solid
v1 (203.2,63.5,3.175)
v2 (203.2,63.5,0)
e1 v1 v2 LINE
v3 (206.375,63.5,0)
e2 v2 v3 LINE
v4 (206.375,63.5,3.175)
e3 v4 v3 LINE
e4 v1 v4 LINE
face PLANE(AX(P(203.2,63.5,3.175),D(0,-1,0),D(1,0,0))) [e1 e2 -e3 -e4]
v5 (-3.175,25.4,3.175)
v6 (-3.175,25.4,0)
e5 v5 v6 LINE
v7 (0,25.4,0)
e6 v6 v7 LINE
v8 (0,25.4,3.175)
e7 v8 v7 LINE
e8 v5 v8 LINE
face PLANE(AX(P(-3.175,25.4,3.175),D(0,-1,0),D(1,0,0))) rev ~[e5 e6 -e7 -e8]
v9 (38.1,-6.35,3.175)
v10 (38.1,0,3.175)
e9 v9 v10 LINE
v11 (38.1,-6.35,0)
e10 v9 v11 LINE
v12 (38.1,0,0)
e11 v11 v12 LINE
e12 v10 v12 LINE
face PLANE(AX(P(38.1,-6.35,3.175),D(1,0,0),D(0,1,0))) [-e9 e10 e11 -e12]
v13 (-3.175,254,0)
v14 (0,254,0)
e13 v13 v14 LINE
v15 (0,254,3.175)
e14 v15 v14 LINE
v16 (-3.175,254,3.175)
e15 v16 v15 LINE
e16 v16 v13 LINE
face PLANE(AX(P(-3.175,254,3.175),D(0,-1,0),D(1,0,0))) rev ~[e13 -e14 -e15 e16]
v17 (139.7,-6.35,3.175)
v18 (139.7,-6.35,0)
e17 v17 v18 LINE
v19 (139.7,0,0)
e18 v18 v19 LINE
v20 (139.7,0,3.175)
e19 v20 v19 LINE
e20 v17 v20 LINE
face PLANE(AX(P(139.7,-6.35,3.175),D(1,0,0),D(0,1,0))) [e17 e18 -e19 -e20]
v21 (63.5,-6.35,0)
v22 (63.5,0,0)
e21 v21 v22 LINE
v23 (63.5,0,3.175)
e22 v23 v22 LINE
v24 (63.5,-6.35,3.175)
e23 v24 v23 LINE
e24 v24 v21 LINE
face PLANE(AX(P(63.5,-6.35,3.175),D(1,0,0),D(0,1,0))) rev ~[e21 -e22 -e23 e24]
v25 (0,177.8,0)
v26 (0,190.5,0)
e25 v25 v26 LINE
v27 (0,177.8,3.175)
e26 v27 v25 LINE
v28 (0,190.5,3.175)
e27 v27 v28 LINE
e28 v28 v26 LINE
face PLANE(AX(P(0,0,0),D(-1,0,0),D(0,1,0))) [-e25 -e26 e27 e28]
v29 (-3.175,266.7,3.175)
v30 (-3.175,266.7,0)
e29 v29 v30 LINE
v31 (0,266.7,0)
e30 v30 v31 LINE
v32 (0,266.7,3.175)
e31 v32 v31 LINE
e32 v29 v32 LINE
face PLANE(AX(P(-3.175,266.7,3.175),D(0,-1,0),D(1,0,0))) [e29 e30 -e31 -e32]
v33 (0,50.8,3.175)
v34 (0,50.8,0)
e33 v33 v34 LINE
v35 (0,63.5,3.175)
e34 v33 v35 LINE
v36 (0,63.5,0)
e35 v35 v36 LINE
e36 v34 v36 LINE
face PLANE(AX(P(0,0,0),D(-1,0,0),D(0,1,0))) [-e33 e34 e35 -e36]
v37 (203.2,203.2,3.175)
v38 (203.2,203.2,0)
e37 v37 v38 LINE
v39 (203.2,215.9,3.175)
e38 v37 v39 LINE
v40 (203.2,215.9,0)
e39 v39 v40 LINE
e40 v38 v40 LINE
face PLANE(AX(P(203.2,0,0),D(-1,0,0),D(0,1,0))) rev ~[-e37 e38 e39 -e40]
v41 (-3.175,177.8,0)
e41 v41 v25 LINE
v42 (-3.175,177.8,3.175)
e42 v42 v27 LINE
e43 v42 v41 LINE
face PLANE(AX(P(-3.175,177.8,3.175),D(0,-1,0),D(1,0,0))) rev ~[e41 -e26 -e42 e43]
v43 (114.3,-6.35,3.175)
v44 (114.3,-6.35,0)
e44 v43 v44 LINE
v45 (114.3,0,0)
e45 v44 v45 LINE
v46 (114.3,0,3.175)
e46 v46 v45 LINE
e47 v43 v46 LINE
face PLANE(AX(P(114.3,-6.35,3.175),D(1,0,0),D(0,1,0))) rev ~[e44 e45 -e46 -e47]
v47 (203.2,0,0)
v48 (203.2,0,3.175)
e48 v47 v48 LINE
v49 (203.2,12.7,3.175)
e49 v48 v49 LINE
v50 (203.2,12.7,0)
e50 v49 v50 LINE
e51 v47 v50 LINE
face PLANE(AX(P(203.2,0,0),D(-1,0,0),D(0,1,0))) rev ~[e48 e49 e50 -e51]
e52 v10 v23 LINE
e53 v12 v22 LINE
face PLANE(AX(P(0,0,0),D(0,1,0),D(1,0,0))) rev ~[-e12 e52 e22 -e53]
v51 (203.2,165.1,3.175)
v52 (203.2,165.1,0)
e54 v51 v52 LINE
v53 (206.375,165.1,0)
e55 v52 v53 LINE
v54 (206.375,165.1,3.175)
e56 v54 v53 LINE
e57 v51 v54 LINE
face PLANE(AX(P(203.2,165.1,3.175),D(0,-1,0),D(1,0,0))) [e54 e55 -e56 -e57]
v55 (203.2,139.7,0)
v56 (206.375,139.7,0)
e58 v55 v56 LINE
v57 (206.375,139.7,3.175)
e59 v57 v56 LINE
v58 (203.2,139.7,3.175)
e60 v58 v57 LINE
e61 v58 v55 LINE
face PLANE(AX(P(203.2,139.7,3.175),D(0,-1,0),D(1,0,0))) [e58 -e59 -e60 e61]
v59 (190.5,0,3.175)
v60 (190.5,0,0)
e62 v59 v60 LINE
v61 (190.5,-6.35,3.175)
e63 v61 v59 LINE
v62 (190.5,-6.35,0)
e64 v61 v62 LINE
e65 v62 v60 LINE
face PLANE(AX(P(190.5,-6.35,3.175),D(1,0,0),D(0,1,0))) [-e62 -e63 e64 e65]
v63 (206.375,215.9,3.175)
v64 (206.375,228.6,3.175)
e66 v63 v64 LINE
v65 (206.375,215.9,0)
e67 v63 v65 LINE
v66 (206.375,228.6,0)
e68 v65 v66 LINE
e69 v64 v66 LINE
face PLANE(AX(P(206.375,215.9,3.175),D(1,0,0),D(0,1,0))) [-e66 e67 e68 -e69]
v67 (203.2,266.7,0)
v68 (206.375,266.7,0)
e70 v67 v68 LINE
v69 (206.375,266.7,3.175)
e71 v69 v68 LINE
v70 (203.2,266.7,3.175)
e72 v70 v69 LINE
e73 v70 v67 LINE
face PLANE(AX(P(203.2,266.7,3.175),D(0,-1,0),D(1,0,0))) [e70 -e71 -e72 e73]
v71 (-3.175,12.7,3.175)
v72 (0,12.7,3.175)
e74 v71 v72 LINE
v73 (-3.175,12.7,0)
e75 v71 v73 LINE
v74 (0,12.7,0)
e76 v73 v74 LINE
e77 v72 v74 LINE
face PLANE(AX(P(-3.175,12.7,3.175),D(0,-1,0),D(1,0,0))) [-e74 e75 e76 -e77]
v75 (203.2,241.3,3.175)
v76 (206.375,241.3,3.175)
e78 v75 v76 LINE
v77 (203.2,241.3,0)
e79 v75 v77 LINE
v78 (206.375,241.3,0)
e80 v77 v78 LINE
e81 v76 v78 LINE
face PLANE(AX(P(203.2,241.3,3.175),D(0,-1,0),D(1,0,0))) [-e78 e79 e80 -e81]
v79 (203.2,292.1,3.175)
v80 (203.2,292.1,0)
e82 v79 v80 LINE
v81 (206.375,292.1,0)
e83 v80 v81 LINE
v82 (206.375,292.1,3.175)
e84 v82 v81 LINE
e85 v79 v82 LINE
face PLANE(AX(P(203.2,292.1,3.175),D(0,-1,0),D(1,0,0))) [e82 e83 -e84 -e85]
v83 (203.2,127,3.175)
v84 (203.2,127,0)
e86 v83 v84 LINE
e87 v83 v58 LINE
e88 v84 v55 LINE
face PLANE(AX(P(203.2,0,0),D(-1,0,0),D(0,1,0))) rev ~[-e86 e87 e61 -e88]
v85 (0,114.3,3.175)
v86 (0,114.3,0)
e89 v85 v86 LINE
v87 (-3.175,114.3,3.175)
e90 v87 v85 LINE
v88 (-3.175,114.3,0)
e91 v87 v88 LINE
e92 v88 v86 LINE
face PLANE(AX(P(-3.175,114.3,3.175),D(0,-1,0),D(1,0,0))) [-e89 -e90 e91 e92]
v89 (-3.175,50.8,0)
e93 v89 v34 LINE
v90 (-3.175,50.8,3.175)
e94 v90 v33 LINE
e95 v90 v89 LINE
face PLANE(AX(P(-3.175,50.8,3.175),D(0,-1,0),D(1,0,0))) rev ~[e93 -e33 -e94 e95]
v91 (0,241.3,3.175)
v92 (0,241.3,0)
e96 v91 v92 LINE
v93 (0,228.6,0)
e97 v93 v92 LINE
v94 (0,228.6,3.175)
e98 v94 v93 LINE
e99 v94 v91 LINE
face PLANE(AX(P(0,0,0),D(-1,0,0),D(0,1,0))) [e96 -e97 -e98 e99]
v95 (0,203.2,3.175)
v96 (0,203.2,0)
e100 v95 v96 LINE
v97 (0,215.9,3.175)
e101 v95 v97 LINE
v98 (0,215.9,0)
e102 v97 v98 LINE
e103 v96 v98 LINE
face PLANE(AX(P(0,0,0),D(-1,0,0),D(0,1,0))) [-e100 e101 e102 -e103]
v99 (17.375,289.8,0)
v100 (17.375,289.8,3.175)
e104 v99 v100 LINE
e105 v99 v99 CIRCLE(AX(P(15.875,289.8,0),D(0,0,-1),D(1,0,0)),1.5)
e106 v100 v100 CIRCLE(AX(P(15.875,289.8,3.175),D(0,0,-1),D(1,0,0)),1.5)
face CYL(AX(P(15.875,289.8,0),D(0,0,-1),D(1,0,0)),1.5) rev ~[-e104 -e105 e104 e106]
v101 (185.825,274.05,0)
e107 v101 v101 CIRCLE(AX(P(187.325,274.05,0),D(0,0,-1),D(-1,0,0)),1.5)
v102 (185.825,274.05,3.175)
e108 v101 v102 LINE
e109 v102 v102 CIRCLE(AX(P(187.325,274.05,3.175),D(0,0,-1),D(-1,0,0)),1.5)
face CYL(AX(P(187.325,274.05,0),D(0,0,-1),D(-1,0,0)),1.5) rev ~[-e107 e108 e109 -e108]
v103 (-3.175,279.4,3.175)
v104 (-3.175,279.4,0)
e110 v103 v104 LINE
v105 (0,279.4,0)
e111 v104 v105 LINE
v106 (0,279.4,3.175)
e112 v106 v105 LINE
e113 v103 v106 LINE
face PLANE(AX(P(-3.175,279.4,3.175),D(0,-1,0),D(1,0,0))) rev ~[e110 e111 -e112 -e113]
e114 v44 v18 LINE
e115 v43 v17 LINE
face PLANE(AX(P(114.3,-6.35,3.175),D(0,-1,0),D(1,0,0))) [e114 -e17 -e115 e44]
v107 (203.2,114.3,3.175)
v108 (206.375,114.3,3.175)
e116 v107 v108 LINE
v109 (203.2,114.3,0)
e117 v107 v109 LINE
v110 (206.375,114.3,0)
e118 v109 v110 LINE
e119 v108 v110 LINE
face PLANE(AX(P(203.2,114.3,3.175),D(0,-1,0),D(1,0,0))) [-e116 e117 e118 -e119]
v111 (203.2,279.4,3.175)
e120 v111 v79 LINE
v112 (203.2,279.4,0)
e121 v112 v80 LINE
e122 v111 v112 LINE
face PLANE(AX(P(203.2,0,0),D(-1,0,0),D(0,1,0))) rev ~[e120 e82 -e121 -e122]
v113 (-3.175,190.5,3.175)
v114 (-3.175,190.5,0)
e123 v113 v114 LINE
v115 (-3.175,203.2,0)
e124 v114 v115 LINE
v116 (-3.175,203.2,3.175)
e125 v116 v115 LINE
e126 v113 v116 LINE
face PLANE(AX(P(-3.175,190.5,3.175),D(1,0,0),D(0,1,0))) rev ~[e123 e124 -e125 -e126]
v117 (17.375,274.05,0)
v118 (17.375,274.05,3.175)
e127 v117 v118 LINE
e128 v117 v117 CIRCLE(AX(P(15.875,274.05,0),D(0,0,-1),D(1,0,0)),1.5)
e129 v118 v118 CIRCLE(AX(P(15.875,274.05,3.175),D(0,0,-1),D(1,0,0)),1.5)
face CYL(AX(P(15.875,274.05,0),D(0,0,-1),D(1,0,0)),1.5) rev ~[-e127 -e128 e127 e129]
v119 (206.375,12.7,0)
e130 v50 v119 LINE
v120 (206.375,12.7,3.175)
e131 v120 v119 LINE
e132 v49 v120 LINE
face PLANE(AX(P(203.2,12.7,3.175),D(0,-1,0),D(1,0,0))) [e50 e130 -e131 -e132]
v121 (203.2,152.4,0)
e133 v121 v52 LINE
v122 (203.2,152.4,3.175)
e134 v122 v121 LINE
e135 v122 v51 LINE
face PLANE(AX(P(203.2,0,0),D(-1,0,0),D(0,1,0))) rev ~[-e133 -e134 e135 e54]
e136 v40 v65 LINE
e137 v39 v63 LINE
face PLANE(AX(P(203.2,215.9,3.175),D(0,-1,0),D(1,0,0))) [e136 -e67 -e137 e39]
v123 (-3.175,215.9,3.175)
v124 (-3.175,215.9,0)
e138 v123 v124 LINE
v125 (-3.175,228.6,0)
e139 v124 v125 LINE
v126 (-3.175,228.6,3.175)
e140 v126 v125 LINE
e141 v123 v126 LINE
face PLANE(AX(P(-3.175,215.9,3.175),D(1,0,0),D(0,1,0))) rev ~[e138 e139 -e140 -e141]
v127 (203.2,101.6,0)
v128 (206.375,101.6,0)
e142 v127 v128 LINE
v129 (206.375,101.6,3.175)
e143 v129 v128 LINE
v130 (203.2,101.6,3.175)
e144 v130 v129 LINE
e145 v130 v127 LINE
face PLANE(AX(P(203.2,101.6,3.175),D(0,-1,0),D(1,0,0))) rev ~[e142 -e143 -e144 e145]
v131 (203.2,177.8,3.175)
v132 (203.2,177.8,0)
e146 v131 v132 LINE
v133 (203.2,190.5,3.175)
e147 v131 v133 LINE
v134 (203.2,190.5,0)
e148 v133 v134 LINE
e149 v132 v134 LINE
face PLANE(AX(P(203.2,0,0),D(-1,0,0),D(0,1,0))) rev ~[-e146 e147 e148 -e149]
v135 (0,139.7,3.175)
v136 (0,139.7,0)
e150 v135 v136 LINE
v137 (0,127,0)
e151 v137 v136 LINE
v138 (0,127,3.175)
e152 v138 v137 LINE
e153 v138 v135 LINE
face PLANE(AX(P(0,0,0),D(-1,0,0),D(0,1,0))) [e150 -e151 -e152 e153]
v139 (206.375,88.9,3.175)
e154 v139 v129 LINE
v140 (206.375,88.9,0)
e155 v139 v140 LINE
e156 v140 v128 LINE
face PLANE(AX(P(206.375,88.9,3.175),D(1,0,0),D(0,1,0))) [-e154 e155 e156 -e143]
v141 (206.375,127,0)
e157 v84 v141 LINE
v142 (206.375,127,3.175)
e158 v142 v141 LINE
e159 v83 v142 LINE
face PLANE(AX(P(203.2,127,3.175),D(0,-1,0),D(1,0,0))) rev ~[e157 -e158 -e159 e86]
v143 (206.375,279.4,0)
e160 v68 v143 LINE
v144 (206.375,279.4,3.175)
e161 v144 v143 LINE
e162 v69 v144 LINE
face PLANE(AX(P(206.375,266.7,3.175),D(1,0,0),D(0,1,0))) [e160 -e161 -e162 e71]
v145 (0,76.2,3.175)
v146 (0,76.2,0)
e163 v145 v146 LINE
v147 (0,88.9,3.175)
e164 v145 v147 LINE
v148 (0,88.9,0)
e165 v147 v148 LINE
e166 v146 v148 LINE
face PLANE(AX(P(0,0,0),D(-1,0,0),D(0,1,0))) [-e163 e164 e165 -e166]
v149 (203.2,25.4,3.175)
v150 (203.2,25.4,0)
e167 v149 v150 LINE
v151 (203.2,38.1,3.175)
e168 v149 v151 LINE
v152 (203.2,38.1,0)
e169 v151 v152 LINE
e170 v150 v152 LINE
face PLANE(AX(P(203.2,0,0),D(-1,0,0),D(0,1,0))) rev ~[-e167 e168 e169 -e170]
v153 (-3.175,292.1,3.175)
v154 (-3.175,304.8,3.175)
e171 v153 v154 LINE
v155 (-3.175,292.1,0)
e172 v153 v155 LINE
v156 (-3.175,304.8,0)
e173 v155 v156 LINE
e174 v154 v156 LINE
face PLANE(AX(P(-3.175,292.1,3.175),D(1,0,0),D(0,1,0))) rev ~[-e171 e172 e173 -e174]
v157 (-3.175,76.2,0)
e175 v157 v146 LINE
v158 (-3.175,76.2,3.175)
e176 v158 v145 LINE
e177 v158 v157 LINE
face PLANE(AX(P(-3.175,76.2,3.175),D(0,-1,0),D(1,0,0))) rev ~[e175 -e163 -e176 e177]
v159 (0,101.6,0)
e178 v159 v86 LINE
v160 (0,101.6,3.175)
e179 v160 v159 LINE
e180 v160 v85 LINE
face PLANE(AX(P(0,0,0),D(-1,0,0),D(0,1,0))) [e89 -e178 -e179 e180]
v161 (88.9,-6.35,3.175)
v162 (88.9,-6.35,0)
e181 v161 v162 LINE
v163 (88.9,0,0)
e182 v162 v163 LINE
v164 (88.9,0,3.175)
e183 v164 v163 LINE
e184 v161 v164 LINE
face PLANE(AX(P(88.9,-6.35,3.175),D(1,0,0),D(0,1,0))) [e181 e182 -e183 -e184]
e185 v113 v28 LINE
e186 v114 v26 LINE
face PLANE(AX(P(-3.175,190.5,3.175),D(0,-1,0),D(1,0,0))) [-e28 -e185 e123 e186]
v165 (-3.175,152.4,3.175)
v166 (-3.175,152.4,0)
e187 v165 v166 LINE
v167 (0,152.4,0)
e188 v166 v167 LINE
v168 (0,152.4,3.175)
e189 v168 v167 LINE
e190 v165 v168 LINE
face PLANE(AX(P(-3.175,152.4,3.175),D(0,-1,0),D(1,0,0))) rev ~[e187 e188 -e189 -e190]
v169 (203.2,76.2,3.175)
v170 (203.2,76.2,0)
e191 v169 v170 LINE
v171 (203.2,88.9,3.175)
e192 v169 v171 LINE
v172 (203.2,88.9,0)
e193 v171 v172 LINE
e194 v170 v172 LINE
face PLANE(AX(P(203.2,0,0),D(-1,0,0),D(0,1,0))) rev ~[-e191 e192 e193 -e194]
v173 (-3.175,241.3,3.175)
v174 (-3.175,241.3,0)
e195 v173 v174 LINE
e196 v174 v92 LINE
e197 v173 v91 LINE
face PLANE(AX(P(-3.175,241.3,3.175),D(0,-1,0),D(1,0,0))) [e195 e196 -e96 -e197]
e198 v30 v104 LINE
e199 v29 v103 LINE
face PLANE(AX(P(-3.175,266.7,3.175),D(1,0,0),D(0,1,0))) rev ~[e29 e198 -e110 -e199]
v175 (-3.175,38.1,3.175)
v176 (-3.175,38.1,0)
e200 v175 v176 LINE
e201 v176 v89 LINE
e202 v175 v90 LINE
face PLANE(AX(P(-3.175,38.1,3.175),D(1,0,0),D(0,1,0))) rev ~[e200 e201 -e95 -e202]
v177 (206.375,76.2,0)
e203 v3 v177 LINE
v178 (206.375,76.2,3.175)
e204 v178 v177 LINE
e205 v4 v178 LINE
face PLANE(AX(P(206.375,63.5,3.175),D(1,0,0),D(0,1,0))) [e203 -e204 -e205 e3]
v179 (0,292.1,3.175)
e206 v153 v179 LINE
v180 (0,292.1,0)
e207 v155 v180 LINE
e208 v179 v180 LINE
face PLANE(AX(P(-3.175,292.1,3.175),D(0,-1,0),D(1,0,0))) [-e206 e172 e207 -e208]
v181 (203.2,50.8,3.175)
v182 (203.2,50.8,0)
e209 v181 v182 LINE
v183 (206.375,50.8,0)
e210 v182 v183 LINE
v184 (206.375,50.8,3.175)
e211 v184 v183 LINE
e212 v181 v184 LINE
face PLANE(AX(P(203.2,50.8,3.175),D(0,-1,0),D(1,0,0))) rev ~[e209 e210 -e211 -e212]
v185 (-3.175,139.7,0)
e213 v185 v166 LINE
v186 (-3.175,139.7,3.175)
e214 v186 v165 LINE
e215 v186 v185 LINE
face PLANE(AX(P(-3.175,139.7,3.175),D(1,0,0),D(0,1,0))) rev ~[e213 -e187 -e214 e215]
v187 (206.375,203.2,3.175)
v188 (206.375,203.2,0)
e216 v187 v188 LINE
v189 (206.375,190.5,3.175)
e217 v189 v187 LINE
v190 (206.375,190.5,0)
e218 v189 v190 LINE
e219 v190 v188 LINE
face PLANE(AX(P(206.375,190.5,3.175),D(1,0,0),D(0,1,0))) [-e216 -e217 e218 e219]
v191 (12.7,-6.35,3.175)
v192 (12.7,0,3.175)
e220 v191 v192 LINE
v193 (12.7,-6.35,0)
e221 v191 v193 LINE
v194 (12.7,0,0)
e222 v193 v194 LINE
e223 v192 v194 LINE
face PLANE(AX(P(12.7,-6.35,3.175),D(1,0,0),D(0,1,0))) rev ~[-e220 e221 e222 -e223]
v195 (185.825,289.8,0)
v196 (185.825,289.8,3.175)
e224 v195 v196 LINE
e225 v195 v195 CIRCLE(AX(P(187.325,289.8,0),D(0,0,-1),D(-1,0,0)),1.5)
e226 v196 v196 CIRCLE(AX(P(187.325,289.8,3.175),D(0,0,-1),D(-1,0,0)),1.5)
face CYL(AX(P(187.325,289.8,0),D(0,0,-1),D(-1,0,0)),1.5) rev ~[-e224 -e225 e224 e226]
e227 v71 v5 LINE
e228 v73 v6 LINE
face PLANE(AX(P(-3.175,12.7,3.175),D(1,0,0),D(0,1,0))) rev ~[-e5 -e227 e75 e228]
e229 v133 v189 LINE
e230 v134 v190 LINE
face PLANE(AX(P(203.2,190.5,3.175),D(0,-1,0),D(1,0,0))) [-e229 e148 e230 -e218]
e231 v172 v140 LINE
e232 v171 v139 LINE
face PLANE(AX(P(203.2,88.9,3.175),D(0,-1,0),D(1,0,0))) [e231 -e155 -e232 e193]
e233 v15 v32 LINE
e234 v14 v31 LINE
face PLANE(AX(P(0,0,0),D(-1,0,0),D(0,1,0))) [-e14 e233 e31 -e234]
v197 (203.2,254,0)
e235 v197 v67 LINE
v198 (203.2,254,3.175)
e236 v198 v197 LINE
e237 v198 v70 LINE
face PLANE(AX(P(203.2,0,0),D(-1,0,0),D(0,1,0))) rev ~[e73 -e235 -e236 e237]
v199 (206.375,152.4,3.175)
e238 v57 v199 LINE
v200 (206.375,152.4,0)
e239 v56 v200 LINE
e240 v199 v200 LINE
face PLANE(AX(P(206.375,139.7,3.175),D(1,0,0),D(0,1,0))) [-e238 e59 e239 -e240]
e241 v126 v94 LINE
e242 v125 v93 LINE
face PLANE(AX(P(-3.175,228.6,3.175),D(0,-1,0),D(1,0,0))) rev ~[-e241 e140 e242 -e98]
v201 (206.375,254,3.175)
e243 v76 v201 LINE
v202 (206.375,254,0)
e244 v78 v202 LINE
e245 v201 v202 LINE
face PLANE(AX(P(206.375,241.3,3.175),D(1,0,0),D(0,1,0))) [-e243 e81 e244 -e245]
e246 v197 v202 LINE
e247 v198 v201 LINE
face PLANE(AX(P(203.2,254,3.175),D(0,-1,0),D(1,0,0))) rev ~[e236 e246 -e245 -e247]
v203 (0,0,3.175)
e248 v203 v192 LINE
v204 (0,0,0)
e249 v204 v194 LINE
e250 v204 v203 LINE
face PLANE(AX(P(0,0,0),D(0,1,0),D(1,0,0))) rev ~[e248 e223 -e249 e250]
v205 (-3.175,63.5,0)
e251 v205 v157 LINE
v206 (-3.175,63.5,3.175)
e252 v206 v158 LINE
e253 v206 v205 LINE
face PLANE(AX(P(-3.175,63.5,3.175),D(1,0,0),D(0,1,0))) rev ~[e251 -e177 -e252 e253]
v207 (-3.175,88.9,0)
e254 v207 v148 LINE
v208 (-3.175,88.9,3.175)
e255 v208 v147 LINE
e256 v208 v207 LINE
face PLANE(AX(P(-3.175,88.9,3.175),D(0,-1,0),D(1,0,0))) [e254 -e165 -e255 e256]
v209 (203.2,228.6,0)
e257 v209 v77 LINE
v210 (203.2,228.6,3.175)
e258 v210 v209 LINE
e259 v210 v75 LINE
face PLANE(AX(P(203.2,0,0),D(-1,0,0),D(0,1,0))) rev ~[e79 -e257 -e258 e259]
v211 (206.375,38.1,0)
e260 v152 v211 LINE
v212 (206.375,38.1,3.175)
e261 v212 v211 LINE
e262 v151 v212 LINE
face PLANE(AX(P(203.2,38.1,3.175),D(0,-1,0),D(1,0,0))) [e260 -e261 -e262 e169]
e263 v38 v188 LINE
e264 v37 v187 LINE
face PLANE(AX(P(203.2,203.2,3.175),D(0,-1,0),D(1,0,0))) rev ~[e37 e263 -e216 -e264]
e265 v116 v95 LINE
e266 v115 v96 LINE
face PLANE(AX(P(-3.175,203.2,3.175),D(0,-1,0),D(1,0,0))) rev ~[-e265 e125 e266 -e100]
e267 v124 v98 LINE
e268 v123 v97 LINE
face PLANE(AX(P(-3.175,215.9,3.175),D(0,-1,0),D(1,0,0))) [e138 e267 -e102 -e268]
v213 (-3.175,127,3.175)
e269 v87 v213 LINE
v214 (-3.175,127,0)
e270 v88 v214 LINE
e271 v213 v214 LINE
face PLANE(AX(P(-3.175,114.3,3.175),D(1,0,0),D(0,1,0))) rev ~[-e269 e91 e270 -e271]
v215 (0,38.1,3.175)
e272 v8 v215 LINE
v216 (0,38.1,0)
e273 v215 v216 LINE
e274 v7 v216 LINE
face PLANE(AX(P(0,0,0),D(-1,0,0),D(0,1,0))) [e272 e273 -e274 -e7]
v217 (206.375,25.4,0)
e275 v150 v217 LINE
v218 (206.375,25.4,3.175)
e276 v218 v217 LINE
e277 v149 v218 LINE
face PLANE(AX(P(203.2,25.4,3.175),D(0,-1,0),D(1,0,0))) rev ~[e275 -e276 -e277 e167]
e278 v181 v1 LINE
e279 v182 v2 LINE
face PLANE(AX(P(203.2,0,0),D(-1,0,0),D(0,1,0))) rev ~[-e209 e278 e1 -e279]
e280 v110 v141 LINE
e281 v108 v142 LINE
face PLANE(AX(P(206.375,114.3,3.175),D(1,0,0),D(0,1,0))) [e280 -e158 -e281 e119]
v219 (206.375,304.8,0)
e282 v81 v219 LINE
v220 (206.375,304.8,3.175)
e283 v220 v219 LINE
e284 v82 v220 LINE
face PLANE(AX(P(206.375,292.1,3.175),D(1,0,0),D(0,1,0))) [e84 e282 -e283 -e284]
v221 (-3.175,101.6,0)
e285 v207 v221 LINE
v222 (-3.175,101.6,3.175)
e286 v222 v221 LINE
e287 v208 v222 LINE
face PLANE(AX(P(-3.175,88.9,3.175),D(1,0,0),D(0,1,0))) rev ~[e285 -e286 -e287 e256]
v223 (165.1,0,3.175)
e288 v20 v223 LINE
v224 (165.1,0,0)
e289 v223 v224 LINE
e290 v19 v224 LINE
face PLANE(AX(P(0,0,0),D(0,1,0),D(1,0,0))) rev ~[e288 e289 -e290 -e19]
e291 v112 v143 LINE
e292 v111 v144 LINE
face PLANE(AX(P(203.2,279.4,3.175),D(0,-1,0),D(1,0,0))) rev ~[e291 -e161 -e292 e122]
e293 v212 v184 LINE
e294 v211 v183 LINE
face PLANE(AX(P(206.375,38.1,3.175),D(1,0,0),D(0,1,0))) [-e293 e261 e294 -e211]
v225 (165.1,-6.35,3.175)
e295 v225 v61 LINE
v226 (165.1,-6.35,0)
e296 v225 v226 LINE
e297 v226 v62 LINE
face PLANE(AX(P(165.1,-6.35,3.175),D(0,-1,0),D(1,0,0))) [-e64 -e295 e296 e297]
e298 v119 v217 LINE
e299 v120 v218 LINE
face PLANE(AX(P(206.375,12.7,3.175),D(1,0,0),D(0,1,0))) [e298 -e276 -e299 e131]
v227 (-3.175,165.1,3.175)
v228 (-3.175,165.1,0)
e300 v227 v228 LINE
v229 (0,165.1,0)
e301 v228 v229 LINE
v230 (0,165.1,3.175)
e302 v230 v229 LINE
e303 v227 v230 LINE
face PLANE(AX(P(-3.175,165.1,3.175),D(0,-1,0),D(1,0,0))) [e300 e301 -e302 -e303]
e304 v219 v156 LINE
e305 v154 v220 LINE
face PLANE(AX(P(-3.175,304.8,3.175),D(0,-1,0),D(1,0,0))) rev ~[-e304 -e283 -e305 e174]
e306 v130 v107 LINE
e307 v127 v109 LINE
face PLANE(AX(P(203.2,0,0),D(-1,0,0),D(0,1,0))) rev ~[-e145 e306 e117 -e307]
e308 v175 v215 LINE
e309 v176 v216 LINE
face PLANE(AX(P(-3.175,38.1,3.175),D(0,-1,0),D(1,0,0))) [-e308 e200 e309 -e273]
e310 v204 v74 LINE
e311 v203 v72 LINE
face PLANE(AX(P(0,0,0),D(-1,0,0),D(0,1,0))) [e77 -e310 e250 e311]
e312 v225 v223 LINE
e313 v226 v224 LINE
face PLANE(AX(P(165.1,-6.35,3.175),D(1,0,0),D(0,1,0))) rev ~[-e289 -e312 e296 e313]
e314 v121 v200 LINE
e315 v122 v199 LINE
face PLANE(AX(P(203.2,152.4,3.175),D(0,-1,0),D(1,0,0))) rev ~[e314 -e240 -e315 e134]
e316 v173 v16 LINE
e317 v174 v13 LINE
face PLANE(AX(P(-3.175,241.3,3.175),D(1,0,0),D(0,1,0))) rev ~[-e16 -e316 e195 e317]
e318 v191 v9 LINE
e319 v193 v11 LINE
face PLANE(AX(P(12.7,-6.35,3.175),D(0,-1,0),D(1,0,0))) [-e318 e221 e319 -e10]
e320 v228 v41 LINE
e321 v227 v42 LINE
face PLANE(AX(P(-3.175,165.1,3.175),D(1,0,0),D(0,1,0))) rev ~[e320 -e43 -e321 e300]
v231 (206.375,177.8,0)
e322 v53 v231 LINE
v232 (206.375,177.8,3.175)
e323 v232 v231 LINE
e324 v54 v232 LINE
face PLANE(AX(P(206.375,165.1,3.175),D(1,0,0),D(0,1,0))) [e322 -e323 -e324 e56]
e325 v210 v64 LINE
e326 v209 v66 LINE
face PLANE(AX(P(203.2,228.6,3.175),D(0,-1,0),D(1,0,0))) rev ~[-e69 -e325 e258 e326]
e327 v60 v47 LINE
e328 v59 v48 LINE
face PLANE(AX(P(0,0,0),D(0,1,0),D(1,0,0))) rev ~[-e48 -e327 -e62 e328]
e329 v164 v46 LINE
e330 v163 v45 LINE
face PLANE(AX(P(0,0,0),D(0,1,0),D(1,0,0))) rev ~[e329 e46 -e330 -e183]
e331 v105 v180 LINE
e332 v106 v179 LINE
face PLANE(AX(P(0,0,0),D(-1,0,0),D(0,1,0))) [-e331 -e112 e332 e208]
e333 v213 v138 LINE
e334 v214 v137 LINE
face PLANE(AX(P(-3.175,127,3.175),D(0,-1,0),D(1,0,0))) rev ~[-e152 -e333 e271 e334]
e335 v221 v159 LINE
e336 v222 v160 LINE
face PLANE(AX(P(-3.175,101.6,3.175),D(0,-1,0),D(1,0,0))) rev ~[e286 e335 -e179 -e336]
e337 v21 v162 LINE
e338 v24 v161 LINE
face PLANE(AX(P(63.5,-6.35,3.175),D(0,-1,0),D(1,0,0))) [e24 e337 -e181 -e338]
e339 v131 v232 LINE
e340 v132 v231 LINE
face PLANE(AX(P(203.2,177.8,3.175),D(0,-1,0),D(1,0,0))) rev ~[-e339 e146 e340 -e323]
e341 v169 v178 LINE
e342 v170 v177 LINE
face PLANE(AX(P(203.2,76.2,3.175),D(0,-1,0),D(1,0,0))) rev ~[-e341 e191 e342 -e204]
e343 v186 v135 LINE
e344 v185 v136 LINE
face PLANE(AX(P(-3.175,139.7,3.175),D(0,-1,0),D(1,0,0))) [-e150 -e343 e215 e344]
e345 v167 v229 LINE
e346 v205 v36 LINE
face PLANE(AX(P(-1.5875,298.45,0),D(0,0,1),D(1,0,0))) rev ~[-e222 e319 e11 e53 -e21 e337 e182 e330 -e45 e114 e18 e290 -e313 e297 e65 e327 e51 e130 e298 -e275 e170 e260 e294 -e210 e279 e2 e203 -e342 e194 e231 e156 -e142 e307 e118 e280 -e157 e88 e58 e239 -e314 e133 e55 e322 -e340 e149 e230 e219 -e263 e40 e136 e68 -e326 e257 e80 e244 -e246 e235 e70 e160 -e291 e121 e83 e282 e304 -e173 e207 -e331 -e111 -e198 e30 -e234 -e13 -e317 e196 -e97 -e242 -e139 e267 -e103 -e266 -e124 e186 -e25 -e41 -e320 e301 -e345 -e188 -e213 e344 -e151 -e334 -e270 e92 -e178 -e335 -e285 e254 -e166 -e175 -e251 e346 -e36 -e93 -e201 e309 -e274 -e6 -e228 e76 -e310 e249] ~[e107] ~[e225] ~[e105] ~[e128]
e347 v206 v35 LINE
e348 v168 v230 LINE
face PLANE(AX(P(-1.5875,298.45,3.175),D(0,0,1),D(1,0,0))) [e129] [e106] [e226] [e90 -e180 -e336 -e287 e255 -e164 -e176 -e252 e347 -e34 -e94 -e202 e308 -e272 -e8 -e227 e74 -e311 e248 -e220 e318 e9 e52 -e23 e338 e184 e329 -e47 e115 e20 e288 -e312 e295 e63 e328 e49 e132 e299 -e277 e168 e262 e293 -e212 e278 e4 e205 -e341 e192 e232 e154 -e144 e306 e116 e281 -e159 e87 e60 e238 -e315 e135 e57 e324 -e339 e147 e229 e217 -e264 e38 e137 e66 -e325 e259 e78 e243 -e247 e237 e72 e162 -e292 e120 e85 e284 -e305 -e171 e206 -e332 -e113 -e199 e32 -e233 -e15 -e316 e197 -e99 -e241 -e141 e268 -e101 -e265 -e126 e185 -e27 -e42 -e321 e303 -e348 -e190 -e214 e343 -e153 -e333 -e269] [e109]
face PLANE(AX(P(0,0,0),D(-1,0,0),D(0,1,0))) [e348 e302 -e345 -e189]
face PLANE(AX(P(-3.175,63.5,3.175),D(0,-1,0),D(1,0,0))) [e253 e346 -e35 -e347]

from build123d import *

# Parameters (mm, degrees)
SKETCH1_W           = 203.2
SKETCH1_H           = 304.8
BOSS_EXTRUDE1_DEPTH = 3.175
SKETCH2_W           = 3.175
SKETCH2_H           = 12.7
SKETCH2_W_2         = 25.4
SKETCH2_H_2         = 6.35
BOSS_EXTRUDE2_DEPTH = 3.175
SKETCH5_R           = 1.5
CUT_EXTRUDE2_DEPTH  = 3.175


with BuildPart() as part:
    # Sketch1 → Boss-Extrude1 (new body)
    with BuildSketch(Plane.XY):
        with Locations((101.6, 152.4)):
            Rectangle(SKETCH1_W, SKETCH1_H)
    extrude(amount=BOSS_EXTRUDE1_DEPTH)

    # Sketch2 → Boss-Extrude2 (add)
    with BuildSketch(Plane.XY.offset(3.175)):
        with Locations((-1.5875, 298.45)):
            Rectangle(SKETCH2_W, SKETCH2_H)
        with Locations((204.7875, 298.45)):
            Rectangle(SKETCH2_W, SKETCH2_H)
        with Locations((-1.5875, 273.05)):
            Rectangle(SKETCH2_W, SKETCH2_H)
        with Locations((204.7875, 273.05)):
            Rectangle(SKETCH2_W, SKETCH2_H)
        with Locations((-1.5875, 247.65)):
            Rectangle(SKETCH2_W, SKETCH2_H)
        with Locations((204.7875, 247.65)):
            Rectangle(SKETCH2_W, SKETCH2_H)
        with Locations((-1.5875, 222.25)):
            Rectangle(SKETCH2_W, SKETCH2_H)
        with Locations((204.7875, 222.25)):
            Rectangle(SKETCH2_W, SKETCH2_H)
        with Locations((-1.5875, 196.85)):
            Rectangle(SKETCH2_W, SKETCH2_H)
        with Locations((204.7875, 196.85)):
            Rectangle(SKETCH2_W, SKETCH2_H)
        with Locations((-1.5875, 171.45)):
            Rectangle(SKETCH2_W, SKETCH2_H)
        with Locations((204.7875, 171.45)):
            Rectangle(SKETCH2_W, SKETCH2_H)
        with Locations((-1.5875, 146.05)):
            Rectangle(SKETCH2_W, SKETCH2_H)
        with Locations((204.7875, 146.05)):
            Rectangle(SKETCH2_W, SKETCH2_H)
        with Locations((-1.5875, 120.65)):
            Rectangle(SKETCH2_W, SKETCH2_H)
        with Locations((204.7875, 120.65)):
            Rectangle(SKETCH2_W, SKETCH2_H)
        with Locations((-1.5875, 95.25)):
            Rectangle(SKETCH2_W, SKETCH2_H)
        with Locations((204.7875, 95.25)):
            Rectangle(SKETCH2_W, SKETCH2_H)
        with Locations((-1.5875, 69.85)):
            Rectangle(SKETCH2_W, SKETCH2_H)
        with Locations((204.7875, 69.85)):
            Rectangle(SKETCH2_W, SKETCH2_H)
        with Locations((-1.5875, 44.45)):
            Rectangle(SKETCH2_W, SKETCH2_H)
        with Locations((204.7875, 44.45)):
            Rectangle(SKETCH2_W, SKETCH2_H)
        with Locations((-1.5875, 19.05)):
            Rectangle(SKETCH2_W, SKETCH2_H)
        with Locations((204.7875, 19.05)):
            Rectangle(SKETCH2_W, SKETCH2_H)
        with Locations((25.4, -3.175)):
            Rectangle(SKETCH2_W_2, SKETCH2_H_2)
        with Locations((76.2, -3.175)):
            Rectangle(SKETCH2_W_2, SKETCH2_H_2)
        with Locations((127, -3.175)):
            Rectangle(SKETCH2_W_2, SKETCH2_H_2)
        with Locations((177.8, -3.175)):
            Rectangle(SKETCH2_W_2, SKETCH2_H_2)
    extrude(amount=-BOSS_EXTRUDE2_DEPTH)

    # Sketch5 → Cut-Extrude2 (cut)
    with BuildSketch(Plane(origin=(0, 0, 0), x_dir=(-1, 0, 0), z_dir=(0, 0, -1))):
        with Locations((-187.325, 289.8)):
            Circle(SKETCH5_R)
        with Locations((-187.325, 274.05)):
            Circle(SKETCH5_R)
        with Locations(Location((-15.875, 274.05, 0), (0, 0, 180))):
            Circle(SKETCH5_R)
        with Locations(Location((-15.875, 289.8, 0), (0, 0, 180))):
            Circle(SKETCH5_R)
    extrude(amount=-CUT_EXTRUDE2_DEPTH, mode=Mode.SUBTRACT)


solid = part.part
